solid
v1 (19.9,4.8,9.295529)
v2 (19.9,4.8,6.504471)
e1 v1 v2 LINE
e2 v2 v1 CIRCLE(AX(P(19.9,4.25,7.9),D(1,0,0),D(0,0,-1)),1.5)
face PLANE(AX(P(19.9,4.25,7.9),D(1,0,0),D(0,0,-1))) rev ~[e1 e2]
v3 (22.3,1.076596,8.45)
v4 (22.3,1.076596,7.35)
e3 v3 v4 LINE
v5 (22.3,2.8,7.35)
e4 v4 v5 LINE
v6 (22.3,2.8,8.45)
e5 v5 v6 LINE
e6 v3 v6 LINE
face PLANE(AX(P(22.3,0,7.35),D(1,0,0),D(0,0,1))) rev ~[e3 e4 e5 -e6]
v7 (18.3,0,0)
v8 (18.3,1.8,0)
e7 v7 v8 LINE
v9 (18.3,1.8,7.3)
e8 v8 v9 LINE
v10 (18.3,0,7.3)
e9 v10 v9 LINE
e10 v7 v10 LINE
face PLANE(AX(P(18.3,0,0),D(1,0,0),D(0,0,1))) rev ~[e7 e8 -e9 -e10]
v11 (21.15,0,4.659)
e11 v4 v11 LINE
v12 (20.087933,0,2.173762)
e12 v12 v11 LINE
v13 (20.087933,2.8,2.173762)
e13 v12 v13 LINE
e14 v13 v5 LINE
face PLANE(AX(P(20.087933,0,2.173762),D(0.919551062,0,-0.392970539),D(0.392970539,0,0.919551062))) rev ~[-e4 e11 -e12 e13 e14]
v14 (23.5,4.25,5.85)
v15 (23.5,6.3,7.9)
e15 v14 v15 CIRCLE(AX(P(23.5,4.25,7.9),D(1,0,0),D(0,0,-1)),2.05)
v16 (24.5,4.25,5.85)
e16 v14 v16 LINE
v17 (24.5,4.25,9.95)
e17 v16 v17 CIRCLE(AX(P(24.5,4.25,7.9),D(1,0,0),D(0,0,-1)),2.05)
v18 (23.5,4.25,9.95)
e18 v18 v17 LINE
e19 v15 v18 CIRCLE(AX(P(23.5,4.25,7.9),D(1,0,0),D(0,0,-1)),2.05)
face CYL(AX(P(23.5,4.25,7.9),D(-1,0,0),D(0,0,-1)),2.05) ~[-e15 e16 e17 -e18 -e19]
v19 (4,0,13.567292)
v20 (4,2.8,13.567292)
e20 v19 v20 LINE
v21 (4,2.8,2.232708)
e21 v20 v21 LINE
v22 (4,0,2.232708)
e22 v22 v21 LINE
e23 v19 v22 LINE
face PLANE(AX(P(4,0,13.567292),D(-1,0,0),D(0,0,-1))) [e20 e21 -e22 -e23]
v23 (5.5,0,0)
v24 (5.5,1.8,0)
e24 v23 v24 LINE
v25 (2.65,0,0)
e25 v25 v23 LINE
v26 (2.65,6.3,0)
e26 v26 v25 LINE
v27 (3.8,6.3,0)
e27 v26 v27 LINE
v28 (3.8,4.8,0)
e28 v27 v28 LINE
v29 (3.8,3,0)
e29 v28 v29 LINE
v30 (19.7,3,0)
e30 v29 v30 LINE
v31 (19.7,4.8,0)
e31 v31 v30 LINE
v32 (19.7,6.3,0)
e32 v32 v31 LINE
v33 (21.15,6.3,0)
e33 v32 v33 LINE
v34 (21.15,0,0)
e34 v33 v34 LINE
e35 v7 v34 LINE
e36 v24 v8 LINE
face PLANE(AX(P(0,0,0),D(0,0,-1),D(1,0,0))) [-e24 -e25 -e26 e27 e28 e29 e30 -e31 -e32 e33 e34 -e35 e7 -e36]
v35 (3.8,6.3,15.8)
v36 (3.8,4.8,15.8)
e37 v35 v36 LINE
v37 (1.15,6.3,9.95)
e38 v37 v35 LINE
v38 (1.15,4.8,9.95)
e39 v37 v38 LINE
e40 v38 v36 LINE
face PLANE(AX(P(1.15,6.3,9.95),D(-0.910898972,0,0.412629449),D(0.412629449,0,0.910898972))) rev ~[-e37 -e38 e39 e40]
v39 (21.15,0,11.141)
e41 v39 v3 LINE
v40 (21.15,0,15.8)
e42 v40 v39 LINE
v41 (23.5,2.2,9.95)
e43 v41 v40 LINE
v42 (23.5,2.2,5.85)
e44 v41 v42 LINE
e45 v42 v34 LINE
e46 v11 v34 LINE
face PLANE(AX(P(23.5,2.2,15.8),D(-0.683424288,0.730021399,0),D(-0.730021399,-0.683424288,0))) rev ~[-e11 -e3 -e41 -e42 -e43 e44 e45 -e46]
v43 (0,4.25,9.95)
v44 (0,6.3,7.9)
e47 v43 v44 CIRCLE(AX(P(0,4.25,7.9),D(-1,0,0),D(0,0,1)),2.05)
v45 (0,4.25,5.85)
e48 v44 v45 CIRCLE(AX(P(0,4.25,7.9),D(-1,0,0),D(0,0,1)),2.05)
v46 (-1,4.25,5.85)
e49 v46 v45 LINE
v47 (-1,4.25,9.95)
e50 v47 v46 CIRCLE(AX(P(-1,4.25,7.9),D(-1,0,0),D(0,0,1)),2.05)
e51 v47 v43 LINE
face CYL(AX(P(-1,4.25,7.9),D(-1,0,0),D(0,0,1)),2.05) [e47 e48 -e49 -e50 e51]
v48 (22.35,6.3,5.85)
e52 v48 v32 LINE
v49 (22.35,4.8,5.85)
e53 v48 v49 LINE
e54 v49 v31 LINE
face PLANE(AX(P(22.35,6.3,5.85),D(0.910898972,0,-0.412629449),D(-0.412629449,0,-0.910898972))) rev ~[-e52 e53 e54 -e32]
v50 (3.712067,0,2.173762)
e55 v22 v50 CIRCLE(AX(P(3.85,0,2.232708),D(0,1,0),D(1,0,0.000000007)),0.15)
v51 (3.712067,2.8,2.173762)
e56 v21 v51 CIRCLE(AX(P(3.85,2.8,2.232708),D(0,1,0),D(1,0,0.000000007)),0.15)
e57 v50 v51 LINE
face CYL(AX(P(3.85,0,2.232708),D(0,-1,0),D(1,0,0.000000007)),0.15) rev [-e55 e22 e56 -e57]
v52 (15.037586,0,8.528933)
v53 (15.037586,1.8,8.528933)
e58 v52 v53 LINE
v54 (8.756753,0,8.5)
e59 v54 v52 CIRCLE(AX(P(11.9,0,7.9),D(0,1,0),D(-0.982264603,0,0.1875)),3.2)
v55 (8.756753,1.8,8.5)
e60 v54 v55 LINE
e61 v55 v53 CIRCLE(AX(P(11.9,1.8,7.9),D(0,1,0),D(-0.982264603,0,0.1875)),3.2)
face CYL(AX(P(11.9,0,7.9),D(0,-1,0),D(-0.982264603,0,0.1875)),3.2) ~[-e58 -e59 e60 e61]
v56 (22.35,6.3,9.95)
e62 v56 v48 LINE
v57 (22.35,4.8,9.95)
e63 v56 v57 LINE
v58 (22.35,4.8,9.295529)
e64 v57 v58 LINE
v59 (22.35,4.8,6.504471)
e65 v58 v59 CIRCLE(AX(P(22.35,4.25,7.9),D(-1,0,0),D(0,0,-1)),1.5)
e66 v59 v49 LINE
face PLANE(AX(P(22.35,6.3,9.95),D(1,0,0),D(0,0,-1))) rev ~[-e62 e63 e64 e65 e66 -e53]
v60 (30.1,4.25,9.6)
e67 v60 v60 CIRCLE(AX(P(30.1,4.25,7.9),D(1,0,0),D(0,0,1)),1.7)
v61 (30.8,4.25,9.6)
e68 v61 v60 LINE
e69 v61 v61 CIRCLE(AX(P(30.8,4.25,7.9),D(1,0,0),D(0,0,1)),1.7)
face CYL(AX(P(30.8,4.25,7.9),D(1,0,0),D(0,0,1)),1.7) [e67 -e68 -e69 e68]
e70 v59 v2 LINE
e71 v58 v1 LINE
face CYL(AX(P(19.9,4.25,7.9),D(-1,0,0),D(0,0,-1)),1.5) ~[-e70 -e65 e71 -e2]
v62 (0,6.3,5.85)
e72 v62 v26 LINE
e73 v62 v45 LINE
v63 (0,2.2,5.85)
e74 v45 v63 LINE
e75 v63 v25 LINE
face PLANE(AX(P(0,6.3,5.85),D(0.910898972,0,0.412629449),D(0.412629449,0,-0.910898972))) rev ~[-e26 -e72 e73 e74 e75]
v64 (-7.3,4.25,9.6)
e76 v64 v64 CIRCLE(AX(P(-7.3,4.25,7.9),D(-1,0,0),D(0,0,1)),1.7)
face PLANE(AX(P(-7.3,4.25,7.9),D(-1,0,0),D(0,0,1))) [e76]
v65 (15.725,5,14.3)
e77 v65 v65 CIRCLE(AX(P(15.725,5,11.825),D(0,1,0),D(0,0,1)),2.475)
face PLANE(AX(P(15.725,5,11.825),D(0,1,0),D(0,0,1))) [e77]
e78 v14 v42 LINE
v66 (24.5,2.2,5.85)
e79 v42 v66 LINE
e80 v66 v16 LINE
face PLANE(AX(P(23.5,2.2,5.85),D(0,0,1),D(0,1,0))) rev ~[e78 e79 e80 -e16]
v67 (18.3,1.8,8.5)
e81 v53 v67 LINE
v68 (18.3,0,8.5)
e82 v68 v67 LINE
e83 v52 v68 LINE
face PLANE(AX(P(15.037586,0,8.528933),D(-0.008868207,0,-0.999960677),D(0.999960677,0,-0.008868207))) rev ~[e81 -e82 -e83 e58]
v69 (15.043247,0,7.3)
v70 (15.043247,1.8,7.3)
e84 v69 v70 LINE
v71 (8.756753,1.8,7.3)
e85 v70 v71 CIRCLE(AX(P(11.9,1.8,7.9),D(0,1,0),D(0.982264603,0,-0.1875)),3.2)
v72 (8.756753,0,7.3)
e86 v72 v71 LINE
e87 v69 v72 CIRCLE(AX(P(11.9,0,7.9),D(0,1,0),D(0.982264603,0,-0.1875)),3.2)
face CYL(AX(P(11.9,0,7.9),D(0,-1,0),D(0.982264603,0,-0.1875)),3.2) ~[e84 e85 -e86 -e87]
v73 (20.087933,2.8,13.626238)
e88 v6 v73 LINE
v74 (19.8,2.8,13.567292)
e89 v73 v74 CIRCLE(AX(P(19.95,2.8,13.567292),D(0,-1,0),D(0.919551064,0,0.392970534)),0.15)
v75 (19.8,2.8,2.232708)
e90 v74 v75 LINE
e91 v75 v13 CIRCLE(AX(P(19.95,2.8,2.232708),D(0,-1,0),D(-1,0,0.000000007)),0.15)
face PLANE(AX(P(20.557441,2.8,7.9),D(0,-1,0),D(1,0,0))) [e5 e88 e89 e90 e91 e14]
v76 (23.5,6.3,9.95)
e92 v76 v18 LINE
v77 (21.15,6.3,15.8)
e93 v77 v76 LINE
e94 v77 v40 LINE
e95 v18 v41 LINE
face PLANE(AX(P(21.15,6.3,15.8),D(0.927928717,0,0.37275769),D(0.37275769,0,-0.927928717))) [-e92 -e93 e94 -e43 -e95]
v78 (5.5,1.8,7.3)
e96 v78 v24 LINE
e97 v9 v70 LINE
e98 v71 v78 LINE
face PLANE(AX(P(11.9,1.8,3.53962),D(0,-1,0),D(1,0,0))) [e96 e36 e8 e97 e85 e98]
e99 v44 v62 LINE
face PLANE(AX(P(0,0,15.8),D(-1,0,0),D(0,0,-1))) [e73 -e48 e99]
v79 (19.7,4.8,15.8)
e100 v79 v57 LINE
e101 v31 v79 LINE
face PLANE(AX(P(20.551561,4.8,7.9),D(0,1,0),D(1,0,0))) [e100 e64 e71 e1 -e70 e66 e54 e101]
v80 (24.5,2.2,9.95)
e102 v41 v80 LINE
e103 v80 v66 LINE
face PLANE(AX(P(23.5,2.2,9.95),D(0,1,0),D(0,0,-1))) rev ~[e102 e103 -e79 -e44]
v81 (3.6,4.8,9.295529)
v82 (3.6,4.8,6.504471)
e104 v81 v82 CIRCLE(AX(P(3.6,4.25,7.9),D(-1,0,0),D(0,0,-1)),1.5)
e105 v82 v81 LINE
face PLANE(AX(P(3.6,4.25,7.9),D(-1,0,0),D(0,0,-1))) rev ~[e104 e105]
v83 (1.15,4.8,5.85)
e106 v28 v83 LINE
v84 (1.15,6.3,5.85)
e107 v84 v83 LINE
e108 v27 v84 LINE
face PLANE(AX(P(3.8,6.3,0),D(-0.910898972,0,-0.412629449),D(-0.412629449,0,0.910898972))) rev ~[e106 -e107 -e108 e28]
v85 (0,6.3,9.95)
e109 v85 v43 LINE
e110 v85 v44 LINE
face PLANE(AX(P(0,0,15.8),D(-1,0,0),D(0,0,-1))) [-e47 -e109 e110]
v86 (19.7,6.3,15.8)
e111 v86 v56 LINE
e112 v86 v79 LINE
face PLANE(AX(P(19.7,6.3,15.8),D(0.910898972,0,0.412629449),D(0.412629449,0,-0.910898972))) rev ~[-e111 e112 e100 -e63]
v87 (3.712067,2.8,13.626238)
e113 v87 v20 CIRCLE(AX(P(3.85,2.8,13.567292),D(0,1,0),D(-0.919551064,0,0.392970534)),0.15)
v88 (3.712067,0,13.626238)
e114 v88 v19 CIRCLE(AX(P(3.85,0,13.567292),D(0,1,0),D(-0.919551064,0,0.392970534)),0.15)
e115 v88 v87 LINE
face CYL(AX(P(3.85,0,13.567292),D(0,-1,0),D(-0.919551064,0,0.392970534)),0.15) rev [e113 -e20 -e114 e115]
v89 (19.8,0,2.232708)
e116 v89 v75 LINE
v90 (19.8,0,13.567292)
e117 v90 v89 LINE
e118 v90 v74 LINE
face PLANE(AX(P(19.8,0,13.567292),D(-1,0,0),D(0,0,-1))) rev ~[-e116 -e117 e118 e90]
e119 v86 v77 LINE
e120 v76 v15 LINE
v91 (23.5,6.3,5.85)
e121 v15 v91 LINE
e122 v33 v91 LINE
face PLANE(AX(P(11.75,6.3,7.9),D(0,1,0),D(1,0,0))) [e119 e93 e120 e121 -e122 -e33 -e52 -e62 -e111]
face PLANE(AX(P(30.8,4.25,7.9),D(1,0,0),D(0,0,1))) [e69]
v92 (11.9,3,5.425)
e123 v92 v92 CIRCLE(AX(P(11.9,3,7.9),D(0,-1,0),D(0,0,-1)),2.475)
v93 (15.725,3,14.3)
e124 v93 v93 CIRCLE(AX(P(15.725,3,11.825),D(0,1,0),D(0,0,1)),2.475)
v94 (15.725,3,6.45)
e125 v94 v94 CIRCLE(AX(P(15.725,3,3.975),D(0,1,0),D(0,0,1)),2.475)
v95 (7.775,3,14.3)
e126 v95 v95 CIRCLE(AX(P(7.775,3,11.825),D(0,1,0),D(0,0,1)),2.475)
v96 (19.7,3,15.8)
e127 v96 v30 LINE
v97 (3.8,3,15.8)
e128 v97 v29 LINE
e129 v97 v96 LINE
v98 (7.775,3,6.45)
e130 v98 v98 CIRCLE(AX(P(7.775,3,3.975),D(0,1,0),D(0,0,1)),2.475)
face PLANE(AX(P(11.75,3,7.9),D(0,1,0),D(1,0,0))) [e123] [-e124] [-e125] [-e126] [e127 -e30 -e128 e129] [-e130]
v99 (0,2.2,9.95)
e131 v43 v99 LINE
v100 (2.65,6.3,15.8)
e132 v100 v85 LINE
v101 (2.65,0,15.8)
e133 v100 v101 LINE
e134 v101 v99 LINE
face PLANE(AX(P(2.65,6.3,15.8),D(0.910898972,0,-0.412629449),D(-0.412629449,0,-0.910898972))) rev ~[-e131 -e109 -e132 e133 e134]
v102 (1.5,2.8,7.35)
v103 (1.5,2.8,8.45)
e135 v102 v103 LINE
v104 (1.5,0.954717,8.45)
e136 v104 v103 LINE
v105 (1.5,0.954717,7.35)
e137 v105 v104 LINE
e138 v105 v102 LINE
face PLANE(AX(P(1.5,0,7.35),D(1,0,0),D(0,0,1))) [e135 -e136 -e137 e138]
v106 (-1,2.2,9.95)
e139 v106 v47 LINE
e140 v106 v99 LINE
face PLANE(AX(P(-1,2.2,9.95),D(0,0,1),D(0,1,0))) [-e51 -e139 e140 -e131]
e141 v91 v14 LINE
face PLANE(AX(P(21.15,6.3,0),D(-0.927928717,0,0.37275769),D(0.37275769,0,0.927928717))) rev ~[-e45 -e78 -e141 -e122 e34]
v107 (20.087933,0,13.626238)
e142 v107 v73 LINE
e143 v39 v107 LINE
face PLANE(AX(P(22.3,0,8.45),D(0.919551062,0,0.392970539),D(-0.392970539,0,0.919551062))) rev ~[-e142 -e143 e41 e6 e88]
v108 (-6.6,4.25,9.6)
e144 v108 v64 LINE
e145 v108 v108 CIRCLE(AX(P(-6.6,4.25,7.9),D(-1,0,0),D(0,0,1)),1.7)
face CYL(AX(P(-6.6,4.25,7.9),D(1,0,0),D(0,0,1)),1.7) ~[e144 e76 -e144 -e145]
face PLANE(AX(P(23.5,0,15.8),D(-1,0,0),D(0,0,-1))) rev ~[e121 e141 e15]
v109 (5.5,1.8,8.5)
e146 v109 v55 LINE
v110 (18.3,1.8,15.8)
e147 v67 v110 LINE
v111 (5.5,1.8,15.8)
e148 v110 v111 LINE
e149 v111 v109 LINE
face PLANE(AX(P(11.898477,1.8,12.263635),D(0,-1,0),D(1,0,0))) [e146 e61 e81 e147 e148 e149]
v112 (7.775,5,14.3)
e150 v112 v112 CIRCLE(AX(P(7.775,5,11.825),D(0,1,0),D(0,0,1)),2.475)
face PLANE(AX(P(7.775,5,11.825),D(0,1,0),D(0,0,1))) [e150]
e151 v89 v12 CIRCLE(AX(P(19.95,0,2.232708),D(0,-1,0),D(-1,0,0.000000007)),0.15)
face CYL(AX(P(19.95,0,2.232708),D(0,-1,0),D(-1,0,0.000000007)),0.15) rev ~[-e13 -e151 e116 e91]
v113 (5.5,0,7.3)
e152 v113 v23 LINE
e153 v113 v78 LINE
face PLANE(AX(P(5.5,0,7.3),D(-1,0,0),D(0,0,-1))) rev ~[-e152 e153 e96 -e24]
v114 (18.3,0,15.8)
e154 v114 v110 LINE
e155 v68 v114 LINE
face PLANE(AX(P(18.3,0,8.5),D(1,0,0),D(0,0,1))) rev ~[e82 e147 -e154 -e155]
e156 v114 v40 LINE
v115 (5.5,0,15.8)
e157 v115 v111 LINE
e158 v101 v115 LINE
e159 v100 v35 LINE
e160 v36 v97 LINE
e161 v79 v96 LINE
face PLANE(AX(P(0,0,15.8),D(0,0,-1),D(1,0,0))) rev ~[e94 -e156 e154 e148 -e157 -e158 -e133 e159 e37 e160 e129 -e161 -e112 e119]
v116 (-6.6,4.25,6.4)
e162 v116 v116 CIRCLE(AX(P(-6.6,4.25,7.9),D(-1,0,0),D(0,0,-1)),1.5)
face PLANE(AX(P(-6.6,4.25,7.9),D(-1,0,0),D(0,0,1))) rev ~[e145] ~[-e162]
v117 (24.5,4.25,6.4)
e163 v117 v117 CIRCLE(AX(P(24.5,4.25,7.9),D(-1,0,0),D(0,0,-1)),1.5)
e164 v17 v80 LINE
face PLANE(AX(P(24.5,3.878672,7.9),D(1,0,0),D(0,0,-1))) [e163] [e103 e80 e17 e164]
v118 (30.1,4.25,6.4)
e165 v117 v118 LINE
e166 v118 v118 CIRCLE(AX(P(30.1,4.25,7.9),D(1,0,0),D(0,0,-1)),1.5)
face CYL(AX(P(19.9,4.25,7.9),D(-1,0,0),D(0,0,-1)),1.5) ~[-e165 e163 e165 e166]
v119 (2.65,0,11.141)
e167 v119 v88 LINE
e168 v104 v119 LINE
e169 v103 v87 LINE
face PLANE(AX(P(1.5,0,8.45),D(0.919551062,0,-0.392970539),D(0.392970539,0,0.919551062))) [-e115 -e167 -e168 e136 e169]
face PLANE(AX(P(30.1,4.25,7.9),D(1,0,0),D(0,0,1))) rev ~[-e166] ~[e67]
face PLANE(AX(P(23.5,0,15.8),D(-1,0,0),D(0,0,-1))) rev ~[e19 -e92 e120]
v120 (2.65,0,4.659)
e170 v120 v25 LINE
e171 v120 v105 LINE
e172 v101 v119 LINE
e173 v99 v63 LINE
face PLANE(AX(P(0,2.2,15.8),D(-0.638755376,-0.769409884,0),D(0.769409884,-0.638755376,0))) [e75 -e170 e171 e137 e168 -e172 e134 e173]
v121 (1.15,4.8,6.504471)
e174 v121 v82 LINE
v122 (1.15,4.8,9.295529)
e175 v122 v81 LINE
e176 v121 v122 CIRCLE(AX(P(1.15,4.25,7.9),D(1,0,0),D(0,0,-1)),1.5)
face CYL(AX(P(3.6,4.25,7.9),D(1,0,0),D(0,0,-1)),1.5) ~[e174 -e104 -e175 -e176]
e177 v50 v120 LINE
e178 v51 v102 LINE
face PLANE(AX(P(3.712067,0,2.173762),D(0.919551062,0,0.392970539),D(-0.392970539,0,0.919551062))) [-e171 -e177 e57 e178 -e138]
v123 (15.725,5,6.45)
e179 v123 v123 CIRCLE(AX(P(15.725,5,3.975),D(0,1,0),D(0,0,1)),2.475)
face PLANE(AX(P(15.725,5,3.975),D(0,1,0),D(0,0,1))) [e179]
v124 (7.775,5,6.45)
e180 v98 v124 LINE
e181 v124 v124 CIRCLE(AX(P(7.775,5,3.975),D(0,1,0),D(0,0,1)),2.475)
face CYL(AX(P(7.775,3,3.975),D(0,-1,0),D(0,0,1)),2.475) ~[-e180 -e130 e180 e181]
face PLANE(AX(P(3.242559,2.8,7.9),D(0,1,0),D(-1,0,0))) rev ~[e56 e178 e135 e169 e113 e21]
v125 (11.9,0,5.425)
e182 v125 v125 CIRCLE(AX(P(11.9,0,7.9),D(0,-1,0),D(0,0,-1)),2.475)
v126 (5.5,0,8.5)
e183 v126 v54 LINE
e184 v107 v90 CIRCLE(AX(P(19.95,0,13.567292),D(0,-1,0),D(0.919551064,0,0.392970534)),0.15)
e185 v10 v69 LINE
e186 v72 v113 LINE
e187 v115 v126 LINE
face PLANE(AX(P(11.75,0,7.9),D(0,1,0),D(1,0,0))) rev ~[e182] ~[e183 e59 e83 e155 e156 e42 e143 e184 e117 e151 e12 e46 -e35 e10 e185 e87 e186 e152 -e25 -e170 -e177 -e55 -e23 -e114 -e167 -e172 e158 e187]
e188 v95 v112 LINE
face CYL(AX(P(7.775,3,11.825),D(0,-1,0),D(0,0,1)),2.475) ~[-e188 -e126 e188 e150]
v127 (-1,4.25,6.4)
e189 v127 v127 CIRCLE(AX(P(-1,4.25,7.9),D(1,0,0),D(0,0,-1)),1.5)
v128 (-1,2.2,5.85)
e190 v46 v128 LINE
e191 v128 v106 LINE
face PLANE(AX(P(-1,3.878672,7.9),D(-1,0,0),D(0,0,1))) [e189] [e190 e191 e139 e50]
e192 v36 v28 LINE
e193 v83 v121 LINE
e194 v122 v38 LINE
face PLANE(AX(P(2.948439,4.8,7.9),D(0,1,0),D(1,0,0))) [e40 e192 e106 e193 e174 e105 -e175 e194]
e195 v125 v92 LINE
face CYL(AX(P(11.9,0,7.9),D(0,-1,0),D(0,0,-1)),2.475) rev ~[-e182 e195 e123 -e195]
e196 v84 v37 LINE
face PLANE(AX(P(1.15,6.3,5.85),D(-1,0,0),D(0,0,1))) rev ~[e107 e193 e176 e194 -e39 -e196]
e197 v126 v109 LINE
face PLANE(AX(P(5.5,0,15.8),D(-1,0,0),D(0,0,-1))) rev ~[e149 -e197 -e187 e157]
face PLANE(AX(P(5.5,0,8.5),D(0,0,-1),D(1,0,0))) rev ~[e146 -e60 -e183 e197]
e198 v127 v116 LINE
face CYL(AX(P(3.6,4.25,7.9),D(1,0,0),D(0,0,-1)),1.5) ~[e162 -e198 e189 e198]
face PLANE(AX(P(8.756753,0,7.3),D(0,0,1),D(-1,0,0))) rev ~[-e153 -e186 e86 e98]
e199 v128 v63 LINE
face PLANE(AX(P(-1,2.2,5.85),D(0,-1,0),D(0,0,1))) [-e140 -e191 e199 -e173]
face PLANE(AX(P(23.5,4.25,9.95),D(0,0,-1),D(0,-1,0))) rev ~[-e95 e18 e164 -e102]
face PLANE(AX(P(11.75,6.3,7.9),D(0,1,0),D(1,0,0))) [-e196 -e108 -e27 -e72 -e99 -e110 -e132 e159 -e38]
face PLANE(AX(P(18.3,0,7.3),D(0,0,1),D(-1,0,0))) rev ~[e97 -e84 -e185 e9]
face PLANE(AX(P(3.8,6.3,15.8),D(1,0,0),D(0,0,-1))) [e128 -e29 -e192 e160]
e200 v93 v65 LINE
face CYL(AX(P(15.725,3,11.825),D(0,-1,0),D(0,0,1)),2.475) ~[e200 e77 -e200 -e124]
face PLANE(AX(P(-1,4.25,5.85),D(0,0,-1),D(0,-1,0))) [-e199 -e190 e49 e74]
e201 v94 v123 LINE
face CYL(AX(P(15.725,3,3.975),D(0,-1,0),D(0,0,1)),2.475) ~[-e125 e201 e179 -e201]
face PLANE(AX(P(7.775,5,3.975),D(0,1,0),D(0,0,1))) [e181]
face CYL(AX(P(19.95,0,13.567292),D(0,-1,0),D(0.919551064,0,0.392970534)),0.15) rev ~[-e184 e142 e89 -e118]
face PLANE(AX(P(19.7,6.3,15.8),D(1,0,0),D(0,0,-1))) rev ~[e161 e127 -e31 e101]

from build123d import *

# Parameters (mm, degrees)
SKETCH1_W                = 23.5
SKETCH1_H                = 15.8
BOSS_EXTRUDE1_DEPTH      = 6.3
SKETCH3_W                = 15.9
SKETCH3_H                = 15.8
CUT_EXTRUDE1_DEPTH       = 3.3
CUT_EXTRUDE2_DEPTH       = 30.009998276
CUT_EXTRUDE3_DEPTH       = 1.5
CUT_EXTRUDE4_DEPTH       = 30.009998276
BOSS_EXTRUDE2_DEPTH      = 1
BOSS_EXTRUDE3_DEPTH      = 5.6
BOSS_EXTRUDE3_DEPTH_BACK = 4.6
SKETCH9_R                = 1.5
BOSS_EXTRUDE4_START      = 1
BOSS_EXTRUDE4_DEPTH      = 1
BOSS_EXTRUDE5_DEPTH      = 5.6
BOSS_EXTRUDE5_DEPTH_BACK = 4.6
SKETCH11_R               = 1.5
CUT_EXTRUDE5_DEPTH       = 1.8
SKETCH13_R               = 2.475
CUT_EXTRUDE6_DEPTH       = 35.573689418
CUT_EXTRUDE7_DEPTH       = 2.8
SKETCH15_R               = 1.7
BOSS_EXTRUDE7_DEPTH      = 0.7
BOSS_EXTRUDE8_START      = 0.7
SKETCH16_R               = 1.7
BOSS_EXTRUDE8_DEPTH      = 0.7
SKETCH17_R               = 2.475
BOSS_EXTRUDE9_DEPTH      = 2


with BuildPart() as part:
    # Sketch1 → Boss-Extrude1 (new body)
    with BuildSketch(Plane(origin=(0, 0, 0), x_dir=(1, 0, 0), z_dir=(0, 1, 0))):
        with Locations((11.75, -7.9)):
            Rectangle(SKETCH1_W, SKETCH1_H)
    extrude(amount=BOSS_EXTRUDE1_DEPTH)

    # Sketch3 → Cut-Extrude1 (cut)
    with BuildSketch(Plane(origin=(0, 6.3, 0), x_dir=(1, 0, 0), z_dir=(0, 1, 0))):
        with Locations((11.75, -7.9)):
            Rectangle(SKETCH3_W, SKETCH3_H)
    extrude(amount=-CUT_EXTRUDE1_DEPTH, mode=Mode.SUBTRACT)

    # Sketch4 → Cut-Extrude2 (cut, through all)
    with BuildSketch(Plane(origin=(0, 6.3, 0), x_dir=(1, 0, 0), z_dir=(0, 1, 0))):
        Polygon((21.15, 0), (23.5, -5.85), (23.5, 0), align=None)
        Polygon((21.15, -15.8), (23.5, -9.95), (23.5, -15.8), align=None)
        Polygon((2.65, -15.8), (0, -9.95), (0, -15.8), align=None)
        Polygon((0, 0), (0, -5.85), (2.65, 0), align=None)
    extrude(amount=-CUT_EXTRUDE2_DEPTH, mode=Mode.SUBTRACT)

    # Sketch5 → Cut-Extrude3 (cut)
    with BuildSketch(Plane(origin=(0, 6.3, 0), x_dir=(1, 0, 0), z_dir=(0, 1, 0))):
        Polygon((3.8, 0), (1.15, -5.85), (1.15, -9.95), (3.8, -15.8), align=None)
        Polygon((19.7, 0), (19.7, -15.8), (22.35, -9.95), (22.35, -5.85), align=None)
    extrude(amount=-CUT_EXTRUDE3_DEPTH, mode=Mode.SUBTRACT)

    # Sketch7 → Cut-Extrude4 (cut, through all)
    with BuildSketch(Plane.XY.offset(15.8)):
        Polygon((0, 0), (0, 2.2), (2.65, 0), align=None)
        Polygon((21.15, 0), (23.5, 0), (23.5, 2.2), align=None)
    extrude(amount=-CUT_EXTRUDE4_DEPTH, mode=Mode.SUBTRACT)

    # Sketch8 → Boss-Extrude2 (add)
    with BuildSketch(Plane(origin=(23.5, 0, 0), x_dir=(0, 0, -1), z_dir=(1, 0, 0))):
        with BuildLine():
            Line((-9.95, 4.25), (-9.95, 2.2))
            Line((-9.95, 2.2), (-5.85, 2.2))
            Line((-5.85, 2.2), (-5.85, 4.25))
            ThreePointArc((-5.85, 4.25), (-7.9, 6.3), (-9.95, 4.25))
        make_face()
    extrude(amount=BOSS_EXTRUDE2_DEPTH)

    # Sketch9 → Boss-Extrude3 (add, two sides: drawn at the far end of the back side and taken through both)
    with BuildSketch(Plane(origin=(24.5, 0, 0), x_dir=(0, 0, -1), z_dir=(1, 0, 0)).offset(-BOSS_EXTRUDE3_DEPTH_BACK)):
        with Locations((-7.9, 4.25)):
            Circle(SKETCH9_R)
    extrude(amount=BOSS_EXTRUDE3_DEPTH + BOSS_EXTRUDE3_DEPTH_BACK)

    # Sketch10 → Boss-Extrude4 (add)
    with BuildSketch(Plane.ZY.offset(BOSS_EXTRUDE4_START)):
        with BuildLine():
            Line((5.85, 2.2), (9.95, 2.2))
            Line((9.95, 2.2), (9.95, 4.25))
            ThreePointArc((9.95, 4.25), (7.9, 6.3), (5.85, 4.25))
            Line((5.85, 4.25), (5.85, 2.2))
        make_face()
    extrude(amount=-BOSS_EXTRUDE4_DEPTH)

    # Sketch11 → Boss-Extrude5 (add, two sides: drawn at the far end of the back side and taken through both)
    with BuildSketch(Plane.ZY.offset(1).offset(-BOSS_EXTRUDE5_DEPTH_BACK)):
        with Locations(Location((7.9, 4.25, 0), (0, 0, 180))):
            Circle(SKETCH11_R)
    extrude(amount=BOSS_EXTRUDE5_DEPTH + BOSS_EXTRUDE5_DEPTH_BACK)

    # Sketch12 → Cut-Extrude5 (cut)
    with BuildSketch(Plane.XZ):
        with BuildLine():
            Line((18.3, 15.8), (5.5, 15.8))
            Line((5.5, 15.8), (5.5, 8.5))
            Line((5.5, 8.5), (8.756753271, 8.5))
            ThreePointArc((8.756753271, 8.5), (11.885259229, 11.099966048), (15.037585601, 8.528932905))
            Line((15.037585601, 8.528932905), (18.3, 8.5))
            Line((18.3, 8.5), (18.3, 15.8))
        make_face()
        with BuildLine():
            Line((8.756753271, 7.3), (5.5, 7.3))
            Line((5.5, 7.3), (5.5, 0))
            Line((5.5, 0), (18.3, 0))
            Line((18.3, 0), (18.3, 7.3))
            Line((18.3, 7.3), (15.043246729, 7.3))
            ThreePointArc((15.043246729, 7.3), (11.9, 4.7), (8.756753271, 7.3))
        make_face()
    extrude(amount=-CUT_EXTRUDE5_DEPTH, mode=Mode.SUBTRACT)

    # Sketch13 → Cut-Extrude6 (cut, through all)
    with BuildSketch(Plane.XZ):
        with Locations(Location((11.9, 7.9, 0), (0, 0, 270))):
            Circle(SKETCH13_R)
    extrude(amount=-CUT_EXTRUDE6_DEPTH, mode=Mode.SUBTRACT)

    # Sketch14 → Cut-Extrude7 (cut)
    with BuildSketch(Plane.XZ):
        with BuildLine():
            Line((4, 13.567291996), (4, 2.232708004))
            ThreePointArc((4, 2.232708004), (3.880084058, 2.085755802), (3.712067341, 2.173762423))
            Line((3.712067341, 2.173762423), (1.5, 7.35))
            Line((1.5, 7.35), (1.5, 8.45))
            Line((1.5, 8.45), (3.712067341, 13.626237577))
            ThreePointArc((3.712067341, 13.626237577), (3.880084058, 13.714244198), (4, 13.567291996))
        make_face()
        with BuildLine():
            Line((20.087932659, 2.173762423), (22.3, 7.35))
            Line((22.3, 7.35), (22.3, 8.45))
            Line((22.3, 8.45), (20.087932659, 13.626237577))
            ThreePointArc((20.087932659, 13.626237577), (19.919915942, 13.714244198), (19.8, 13.567291996))
            Line((19.8, 13.567291996), (19.8, 2.232708004))
            ThreePointArc((19.8, 2.232708004), (19.919915942, 2.085755802), (20.087932659, 2.173762423))
        make_face()
    extrude(amount=-CUT_EXTRUDE7_DEPTH, mode=Mode.SUBTRACT)

    # Sketch15 → Boss-Extrude7 (add)
    with BuildSketch(Plane.ZY.offset(6.6)):
        with Locations((7.9, 4.25)):
            Circle(SKETCH15_R)
    extrude(amount=BOSS_EXTRUDE7_DEPTH)

    # Sketch16 → Boss-Extrude8 (add)
    with BuildSketch(Plane(origin=(30.1, 0, 0), x_dir=(0, 0, -1), z_dir=(1, 0, 0)).offset(BOSS_EXTRUDE8_START)):
        with Locations(Location((-7.9, 4.25, 0), (0, 0, 180))):
            Circle(SKETCH16_R)
    extrude(amount=-BOSS_EXTRUDE8_DEPTH)

    # Sketch17 → Boss-Extrude9 (add)
    with BuildSketch(Plane(origin=(0, 3, 0), x_dir=(1, 0, 0), z_dir=(0, 1, 0))):
        with Locations(Location((7.775, -3.975, 0), (0, 0, 270))):
            Circle(SKETCH17_R)
        with Locations(Location((7.775, -11.825, 0), (0, 0, 270))):
            Circle(SKETCH17_R)
        with Locations(Location((15.725, -11.825, 0), (0, 0, 270))):
            Circle(SKETCH17_R)
        with Locations(Location((15.725, -3.975, 0), (0, 0, 270))):
            Circle(SKETCH17_R)
    extrude(amount=BOSS_EXTRUDE9_DEPTH)


solid = part.part
